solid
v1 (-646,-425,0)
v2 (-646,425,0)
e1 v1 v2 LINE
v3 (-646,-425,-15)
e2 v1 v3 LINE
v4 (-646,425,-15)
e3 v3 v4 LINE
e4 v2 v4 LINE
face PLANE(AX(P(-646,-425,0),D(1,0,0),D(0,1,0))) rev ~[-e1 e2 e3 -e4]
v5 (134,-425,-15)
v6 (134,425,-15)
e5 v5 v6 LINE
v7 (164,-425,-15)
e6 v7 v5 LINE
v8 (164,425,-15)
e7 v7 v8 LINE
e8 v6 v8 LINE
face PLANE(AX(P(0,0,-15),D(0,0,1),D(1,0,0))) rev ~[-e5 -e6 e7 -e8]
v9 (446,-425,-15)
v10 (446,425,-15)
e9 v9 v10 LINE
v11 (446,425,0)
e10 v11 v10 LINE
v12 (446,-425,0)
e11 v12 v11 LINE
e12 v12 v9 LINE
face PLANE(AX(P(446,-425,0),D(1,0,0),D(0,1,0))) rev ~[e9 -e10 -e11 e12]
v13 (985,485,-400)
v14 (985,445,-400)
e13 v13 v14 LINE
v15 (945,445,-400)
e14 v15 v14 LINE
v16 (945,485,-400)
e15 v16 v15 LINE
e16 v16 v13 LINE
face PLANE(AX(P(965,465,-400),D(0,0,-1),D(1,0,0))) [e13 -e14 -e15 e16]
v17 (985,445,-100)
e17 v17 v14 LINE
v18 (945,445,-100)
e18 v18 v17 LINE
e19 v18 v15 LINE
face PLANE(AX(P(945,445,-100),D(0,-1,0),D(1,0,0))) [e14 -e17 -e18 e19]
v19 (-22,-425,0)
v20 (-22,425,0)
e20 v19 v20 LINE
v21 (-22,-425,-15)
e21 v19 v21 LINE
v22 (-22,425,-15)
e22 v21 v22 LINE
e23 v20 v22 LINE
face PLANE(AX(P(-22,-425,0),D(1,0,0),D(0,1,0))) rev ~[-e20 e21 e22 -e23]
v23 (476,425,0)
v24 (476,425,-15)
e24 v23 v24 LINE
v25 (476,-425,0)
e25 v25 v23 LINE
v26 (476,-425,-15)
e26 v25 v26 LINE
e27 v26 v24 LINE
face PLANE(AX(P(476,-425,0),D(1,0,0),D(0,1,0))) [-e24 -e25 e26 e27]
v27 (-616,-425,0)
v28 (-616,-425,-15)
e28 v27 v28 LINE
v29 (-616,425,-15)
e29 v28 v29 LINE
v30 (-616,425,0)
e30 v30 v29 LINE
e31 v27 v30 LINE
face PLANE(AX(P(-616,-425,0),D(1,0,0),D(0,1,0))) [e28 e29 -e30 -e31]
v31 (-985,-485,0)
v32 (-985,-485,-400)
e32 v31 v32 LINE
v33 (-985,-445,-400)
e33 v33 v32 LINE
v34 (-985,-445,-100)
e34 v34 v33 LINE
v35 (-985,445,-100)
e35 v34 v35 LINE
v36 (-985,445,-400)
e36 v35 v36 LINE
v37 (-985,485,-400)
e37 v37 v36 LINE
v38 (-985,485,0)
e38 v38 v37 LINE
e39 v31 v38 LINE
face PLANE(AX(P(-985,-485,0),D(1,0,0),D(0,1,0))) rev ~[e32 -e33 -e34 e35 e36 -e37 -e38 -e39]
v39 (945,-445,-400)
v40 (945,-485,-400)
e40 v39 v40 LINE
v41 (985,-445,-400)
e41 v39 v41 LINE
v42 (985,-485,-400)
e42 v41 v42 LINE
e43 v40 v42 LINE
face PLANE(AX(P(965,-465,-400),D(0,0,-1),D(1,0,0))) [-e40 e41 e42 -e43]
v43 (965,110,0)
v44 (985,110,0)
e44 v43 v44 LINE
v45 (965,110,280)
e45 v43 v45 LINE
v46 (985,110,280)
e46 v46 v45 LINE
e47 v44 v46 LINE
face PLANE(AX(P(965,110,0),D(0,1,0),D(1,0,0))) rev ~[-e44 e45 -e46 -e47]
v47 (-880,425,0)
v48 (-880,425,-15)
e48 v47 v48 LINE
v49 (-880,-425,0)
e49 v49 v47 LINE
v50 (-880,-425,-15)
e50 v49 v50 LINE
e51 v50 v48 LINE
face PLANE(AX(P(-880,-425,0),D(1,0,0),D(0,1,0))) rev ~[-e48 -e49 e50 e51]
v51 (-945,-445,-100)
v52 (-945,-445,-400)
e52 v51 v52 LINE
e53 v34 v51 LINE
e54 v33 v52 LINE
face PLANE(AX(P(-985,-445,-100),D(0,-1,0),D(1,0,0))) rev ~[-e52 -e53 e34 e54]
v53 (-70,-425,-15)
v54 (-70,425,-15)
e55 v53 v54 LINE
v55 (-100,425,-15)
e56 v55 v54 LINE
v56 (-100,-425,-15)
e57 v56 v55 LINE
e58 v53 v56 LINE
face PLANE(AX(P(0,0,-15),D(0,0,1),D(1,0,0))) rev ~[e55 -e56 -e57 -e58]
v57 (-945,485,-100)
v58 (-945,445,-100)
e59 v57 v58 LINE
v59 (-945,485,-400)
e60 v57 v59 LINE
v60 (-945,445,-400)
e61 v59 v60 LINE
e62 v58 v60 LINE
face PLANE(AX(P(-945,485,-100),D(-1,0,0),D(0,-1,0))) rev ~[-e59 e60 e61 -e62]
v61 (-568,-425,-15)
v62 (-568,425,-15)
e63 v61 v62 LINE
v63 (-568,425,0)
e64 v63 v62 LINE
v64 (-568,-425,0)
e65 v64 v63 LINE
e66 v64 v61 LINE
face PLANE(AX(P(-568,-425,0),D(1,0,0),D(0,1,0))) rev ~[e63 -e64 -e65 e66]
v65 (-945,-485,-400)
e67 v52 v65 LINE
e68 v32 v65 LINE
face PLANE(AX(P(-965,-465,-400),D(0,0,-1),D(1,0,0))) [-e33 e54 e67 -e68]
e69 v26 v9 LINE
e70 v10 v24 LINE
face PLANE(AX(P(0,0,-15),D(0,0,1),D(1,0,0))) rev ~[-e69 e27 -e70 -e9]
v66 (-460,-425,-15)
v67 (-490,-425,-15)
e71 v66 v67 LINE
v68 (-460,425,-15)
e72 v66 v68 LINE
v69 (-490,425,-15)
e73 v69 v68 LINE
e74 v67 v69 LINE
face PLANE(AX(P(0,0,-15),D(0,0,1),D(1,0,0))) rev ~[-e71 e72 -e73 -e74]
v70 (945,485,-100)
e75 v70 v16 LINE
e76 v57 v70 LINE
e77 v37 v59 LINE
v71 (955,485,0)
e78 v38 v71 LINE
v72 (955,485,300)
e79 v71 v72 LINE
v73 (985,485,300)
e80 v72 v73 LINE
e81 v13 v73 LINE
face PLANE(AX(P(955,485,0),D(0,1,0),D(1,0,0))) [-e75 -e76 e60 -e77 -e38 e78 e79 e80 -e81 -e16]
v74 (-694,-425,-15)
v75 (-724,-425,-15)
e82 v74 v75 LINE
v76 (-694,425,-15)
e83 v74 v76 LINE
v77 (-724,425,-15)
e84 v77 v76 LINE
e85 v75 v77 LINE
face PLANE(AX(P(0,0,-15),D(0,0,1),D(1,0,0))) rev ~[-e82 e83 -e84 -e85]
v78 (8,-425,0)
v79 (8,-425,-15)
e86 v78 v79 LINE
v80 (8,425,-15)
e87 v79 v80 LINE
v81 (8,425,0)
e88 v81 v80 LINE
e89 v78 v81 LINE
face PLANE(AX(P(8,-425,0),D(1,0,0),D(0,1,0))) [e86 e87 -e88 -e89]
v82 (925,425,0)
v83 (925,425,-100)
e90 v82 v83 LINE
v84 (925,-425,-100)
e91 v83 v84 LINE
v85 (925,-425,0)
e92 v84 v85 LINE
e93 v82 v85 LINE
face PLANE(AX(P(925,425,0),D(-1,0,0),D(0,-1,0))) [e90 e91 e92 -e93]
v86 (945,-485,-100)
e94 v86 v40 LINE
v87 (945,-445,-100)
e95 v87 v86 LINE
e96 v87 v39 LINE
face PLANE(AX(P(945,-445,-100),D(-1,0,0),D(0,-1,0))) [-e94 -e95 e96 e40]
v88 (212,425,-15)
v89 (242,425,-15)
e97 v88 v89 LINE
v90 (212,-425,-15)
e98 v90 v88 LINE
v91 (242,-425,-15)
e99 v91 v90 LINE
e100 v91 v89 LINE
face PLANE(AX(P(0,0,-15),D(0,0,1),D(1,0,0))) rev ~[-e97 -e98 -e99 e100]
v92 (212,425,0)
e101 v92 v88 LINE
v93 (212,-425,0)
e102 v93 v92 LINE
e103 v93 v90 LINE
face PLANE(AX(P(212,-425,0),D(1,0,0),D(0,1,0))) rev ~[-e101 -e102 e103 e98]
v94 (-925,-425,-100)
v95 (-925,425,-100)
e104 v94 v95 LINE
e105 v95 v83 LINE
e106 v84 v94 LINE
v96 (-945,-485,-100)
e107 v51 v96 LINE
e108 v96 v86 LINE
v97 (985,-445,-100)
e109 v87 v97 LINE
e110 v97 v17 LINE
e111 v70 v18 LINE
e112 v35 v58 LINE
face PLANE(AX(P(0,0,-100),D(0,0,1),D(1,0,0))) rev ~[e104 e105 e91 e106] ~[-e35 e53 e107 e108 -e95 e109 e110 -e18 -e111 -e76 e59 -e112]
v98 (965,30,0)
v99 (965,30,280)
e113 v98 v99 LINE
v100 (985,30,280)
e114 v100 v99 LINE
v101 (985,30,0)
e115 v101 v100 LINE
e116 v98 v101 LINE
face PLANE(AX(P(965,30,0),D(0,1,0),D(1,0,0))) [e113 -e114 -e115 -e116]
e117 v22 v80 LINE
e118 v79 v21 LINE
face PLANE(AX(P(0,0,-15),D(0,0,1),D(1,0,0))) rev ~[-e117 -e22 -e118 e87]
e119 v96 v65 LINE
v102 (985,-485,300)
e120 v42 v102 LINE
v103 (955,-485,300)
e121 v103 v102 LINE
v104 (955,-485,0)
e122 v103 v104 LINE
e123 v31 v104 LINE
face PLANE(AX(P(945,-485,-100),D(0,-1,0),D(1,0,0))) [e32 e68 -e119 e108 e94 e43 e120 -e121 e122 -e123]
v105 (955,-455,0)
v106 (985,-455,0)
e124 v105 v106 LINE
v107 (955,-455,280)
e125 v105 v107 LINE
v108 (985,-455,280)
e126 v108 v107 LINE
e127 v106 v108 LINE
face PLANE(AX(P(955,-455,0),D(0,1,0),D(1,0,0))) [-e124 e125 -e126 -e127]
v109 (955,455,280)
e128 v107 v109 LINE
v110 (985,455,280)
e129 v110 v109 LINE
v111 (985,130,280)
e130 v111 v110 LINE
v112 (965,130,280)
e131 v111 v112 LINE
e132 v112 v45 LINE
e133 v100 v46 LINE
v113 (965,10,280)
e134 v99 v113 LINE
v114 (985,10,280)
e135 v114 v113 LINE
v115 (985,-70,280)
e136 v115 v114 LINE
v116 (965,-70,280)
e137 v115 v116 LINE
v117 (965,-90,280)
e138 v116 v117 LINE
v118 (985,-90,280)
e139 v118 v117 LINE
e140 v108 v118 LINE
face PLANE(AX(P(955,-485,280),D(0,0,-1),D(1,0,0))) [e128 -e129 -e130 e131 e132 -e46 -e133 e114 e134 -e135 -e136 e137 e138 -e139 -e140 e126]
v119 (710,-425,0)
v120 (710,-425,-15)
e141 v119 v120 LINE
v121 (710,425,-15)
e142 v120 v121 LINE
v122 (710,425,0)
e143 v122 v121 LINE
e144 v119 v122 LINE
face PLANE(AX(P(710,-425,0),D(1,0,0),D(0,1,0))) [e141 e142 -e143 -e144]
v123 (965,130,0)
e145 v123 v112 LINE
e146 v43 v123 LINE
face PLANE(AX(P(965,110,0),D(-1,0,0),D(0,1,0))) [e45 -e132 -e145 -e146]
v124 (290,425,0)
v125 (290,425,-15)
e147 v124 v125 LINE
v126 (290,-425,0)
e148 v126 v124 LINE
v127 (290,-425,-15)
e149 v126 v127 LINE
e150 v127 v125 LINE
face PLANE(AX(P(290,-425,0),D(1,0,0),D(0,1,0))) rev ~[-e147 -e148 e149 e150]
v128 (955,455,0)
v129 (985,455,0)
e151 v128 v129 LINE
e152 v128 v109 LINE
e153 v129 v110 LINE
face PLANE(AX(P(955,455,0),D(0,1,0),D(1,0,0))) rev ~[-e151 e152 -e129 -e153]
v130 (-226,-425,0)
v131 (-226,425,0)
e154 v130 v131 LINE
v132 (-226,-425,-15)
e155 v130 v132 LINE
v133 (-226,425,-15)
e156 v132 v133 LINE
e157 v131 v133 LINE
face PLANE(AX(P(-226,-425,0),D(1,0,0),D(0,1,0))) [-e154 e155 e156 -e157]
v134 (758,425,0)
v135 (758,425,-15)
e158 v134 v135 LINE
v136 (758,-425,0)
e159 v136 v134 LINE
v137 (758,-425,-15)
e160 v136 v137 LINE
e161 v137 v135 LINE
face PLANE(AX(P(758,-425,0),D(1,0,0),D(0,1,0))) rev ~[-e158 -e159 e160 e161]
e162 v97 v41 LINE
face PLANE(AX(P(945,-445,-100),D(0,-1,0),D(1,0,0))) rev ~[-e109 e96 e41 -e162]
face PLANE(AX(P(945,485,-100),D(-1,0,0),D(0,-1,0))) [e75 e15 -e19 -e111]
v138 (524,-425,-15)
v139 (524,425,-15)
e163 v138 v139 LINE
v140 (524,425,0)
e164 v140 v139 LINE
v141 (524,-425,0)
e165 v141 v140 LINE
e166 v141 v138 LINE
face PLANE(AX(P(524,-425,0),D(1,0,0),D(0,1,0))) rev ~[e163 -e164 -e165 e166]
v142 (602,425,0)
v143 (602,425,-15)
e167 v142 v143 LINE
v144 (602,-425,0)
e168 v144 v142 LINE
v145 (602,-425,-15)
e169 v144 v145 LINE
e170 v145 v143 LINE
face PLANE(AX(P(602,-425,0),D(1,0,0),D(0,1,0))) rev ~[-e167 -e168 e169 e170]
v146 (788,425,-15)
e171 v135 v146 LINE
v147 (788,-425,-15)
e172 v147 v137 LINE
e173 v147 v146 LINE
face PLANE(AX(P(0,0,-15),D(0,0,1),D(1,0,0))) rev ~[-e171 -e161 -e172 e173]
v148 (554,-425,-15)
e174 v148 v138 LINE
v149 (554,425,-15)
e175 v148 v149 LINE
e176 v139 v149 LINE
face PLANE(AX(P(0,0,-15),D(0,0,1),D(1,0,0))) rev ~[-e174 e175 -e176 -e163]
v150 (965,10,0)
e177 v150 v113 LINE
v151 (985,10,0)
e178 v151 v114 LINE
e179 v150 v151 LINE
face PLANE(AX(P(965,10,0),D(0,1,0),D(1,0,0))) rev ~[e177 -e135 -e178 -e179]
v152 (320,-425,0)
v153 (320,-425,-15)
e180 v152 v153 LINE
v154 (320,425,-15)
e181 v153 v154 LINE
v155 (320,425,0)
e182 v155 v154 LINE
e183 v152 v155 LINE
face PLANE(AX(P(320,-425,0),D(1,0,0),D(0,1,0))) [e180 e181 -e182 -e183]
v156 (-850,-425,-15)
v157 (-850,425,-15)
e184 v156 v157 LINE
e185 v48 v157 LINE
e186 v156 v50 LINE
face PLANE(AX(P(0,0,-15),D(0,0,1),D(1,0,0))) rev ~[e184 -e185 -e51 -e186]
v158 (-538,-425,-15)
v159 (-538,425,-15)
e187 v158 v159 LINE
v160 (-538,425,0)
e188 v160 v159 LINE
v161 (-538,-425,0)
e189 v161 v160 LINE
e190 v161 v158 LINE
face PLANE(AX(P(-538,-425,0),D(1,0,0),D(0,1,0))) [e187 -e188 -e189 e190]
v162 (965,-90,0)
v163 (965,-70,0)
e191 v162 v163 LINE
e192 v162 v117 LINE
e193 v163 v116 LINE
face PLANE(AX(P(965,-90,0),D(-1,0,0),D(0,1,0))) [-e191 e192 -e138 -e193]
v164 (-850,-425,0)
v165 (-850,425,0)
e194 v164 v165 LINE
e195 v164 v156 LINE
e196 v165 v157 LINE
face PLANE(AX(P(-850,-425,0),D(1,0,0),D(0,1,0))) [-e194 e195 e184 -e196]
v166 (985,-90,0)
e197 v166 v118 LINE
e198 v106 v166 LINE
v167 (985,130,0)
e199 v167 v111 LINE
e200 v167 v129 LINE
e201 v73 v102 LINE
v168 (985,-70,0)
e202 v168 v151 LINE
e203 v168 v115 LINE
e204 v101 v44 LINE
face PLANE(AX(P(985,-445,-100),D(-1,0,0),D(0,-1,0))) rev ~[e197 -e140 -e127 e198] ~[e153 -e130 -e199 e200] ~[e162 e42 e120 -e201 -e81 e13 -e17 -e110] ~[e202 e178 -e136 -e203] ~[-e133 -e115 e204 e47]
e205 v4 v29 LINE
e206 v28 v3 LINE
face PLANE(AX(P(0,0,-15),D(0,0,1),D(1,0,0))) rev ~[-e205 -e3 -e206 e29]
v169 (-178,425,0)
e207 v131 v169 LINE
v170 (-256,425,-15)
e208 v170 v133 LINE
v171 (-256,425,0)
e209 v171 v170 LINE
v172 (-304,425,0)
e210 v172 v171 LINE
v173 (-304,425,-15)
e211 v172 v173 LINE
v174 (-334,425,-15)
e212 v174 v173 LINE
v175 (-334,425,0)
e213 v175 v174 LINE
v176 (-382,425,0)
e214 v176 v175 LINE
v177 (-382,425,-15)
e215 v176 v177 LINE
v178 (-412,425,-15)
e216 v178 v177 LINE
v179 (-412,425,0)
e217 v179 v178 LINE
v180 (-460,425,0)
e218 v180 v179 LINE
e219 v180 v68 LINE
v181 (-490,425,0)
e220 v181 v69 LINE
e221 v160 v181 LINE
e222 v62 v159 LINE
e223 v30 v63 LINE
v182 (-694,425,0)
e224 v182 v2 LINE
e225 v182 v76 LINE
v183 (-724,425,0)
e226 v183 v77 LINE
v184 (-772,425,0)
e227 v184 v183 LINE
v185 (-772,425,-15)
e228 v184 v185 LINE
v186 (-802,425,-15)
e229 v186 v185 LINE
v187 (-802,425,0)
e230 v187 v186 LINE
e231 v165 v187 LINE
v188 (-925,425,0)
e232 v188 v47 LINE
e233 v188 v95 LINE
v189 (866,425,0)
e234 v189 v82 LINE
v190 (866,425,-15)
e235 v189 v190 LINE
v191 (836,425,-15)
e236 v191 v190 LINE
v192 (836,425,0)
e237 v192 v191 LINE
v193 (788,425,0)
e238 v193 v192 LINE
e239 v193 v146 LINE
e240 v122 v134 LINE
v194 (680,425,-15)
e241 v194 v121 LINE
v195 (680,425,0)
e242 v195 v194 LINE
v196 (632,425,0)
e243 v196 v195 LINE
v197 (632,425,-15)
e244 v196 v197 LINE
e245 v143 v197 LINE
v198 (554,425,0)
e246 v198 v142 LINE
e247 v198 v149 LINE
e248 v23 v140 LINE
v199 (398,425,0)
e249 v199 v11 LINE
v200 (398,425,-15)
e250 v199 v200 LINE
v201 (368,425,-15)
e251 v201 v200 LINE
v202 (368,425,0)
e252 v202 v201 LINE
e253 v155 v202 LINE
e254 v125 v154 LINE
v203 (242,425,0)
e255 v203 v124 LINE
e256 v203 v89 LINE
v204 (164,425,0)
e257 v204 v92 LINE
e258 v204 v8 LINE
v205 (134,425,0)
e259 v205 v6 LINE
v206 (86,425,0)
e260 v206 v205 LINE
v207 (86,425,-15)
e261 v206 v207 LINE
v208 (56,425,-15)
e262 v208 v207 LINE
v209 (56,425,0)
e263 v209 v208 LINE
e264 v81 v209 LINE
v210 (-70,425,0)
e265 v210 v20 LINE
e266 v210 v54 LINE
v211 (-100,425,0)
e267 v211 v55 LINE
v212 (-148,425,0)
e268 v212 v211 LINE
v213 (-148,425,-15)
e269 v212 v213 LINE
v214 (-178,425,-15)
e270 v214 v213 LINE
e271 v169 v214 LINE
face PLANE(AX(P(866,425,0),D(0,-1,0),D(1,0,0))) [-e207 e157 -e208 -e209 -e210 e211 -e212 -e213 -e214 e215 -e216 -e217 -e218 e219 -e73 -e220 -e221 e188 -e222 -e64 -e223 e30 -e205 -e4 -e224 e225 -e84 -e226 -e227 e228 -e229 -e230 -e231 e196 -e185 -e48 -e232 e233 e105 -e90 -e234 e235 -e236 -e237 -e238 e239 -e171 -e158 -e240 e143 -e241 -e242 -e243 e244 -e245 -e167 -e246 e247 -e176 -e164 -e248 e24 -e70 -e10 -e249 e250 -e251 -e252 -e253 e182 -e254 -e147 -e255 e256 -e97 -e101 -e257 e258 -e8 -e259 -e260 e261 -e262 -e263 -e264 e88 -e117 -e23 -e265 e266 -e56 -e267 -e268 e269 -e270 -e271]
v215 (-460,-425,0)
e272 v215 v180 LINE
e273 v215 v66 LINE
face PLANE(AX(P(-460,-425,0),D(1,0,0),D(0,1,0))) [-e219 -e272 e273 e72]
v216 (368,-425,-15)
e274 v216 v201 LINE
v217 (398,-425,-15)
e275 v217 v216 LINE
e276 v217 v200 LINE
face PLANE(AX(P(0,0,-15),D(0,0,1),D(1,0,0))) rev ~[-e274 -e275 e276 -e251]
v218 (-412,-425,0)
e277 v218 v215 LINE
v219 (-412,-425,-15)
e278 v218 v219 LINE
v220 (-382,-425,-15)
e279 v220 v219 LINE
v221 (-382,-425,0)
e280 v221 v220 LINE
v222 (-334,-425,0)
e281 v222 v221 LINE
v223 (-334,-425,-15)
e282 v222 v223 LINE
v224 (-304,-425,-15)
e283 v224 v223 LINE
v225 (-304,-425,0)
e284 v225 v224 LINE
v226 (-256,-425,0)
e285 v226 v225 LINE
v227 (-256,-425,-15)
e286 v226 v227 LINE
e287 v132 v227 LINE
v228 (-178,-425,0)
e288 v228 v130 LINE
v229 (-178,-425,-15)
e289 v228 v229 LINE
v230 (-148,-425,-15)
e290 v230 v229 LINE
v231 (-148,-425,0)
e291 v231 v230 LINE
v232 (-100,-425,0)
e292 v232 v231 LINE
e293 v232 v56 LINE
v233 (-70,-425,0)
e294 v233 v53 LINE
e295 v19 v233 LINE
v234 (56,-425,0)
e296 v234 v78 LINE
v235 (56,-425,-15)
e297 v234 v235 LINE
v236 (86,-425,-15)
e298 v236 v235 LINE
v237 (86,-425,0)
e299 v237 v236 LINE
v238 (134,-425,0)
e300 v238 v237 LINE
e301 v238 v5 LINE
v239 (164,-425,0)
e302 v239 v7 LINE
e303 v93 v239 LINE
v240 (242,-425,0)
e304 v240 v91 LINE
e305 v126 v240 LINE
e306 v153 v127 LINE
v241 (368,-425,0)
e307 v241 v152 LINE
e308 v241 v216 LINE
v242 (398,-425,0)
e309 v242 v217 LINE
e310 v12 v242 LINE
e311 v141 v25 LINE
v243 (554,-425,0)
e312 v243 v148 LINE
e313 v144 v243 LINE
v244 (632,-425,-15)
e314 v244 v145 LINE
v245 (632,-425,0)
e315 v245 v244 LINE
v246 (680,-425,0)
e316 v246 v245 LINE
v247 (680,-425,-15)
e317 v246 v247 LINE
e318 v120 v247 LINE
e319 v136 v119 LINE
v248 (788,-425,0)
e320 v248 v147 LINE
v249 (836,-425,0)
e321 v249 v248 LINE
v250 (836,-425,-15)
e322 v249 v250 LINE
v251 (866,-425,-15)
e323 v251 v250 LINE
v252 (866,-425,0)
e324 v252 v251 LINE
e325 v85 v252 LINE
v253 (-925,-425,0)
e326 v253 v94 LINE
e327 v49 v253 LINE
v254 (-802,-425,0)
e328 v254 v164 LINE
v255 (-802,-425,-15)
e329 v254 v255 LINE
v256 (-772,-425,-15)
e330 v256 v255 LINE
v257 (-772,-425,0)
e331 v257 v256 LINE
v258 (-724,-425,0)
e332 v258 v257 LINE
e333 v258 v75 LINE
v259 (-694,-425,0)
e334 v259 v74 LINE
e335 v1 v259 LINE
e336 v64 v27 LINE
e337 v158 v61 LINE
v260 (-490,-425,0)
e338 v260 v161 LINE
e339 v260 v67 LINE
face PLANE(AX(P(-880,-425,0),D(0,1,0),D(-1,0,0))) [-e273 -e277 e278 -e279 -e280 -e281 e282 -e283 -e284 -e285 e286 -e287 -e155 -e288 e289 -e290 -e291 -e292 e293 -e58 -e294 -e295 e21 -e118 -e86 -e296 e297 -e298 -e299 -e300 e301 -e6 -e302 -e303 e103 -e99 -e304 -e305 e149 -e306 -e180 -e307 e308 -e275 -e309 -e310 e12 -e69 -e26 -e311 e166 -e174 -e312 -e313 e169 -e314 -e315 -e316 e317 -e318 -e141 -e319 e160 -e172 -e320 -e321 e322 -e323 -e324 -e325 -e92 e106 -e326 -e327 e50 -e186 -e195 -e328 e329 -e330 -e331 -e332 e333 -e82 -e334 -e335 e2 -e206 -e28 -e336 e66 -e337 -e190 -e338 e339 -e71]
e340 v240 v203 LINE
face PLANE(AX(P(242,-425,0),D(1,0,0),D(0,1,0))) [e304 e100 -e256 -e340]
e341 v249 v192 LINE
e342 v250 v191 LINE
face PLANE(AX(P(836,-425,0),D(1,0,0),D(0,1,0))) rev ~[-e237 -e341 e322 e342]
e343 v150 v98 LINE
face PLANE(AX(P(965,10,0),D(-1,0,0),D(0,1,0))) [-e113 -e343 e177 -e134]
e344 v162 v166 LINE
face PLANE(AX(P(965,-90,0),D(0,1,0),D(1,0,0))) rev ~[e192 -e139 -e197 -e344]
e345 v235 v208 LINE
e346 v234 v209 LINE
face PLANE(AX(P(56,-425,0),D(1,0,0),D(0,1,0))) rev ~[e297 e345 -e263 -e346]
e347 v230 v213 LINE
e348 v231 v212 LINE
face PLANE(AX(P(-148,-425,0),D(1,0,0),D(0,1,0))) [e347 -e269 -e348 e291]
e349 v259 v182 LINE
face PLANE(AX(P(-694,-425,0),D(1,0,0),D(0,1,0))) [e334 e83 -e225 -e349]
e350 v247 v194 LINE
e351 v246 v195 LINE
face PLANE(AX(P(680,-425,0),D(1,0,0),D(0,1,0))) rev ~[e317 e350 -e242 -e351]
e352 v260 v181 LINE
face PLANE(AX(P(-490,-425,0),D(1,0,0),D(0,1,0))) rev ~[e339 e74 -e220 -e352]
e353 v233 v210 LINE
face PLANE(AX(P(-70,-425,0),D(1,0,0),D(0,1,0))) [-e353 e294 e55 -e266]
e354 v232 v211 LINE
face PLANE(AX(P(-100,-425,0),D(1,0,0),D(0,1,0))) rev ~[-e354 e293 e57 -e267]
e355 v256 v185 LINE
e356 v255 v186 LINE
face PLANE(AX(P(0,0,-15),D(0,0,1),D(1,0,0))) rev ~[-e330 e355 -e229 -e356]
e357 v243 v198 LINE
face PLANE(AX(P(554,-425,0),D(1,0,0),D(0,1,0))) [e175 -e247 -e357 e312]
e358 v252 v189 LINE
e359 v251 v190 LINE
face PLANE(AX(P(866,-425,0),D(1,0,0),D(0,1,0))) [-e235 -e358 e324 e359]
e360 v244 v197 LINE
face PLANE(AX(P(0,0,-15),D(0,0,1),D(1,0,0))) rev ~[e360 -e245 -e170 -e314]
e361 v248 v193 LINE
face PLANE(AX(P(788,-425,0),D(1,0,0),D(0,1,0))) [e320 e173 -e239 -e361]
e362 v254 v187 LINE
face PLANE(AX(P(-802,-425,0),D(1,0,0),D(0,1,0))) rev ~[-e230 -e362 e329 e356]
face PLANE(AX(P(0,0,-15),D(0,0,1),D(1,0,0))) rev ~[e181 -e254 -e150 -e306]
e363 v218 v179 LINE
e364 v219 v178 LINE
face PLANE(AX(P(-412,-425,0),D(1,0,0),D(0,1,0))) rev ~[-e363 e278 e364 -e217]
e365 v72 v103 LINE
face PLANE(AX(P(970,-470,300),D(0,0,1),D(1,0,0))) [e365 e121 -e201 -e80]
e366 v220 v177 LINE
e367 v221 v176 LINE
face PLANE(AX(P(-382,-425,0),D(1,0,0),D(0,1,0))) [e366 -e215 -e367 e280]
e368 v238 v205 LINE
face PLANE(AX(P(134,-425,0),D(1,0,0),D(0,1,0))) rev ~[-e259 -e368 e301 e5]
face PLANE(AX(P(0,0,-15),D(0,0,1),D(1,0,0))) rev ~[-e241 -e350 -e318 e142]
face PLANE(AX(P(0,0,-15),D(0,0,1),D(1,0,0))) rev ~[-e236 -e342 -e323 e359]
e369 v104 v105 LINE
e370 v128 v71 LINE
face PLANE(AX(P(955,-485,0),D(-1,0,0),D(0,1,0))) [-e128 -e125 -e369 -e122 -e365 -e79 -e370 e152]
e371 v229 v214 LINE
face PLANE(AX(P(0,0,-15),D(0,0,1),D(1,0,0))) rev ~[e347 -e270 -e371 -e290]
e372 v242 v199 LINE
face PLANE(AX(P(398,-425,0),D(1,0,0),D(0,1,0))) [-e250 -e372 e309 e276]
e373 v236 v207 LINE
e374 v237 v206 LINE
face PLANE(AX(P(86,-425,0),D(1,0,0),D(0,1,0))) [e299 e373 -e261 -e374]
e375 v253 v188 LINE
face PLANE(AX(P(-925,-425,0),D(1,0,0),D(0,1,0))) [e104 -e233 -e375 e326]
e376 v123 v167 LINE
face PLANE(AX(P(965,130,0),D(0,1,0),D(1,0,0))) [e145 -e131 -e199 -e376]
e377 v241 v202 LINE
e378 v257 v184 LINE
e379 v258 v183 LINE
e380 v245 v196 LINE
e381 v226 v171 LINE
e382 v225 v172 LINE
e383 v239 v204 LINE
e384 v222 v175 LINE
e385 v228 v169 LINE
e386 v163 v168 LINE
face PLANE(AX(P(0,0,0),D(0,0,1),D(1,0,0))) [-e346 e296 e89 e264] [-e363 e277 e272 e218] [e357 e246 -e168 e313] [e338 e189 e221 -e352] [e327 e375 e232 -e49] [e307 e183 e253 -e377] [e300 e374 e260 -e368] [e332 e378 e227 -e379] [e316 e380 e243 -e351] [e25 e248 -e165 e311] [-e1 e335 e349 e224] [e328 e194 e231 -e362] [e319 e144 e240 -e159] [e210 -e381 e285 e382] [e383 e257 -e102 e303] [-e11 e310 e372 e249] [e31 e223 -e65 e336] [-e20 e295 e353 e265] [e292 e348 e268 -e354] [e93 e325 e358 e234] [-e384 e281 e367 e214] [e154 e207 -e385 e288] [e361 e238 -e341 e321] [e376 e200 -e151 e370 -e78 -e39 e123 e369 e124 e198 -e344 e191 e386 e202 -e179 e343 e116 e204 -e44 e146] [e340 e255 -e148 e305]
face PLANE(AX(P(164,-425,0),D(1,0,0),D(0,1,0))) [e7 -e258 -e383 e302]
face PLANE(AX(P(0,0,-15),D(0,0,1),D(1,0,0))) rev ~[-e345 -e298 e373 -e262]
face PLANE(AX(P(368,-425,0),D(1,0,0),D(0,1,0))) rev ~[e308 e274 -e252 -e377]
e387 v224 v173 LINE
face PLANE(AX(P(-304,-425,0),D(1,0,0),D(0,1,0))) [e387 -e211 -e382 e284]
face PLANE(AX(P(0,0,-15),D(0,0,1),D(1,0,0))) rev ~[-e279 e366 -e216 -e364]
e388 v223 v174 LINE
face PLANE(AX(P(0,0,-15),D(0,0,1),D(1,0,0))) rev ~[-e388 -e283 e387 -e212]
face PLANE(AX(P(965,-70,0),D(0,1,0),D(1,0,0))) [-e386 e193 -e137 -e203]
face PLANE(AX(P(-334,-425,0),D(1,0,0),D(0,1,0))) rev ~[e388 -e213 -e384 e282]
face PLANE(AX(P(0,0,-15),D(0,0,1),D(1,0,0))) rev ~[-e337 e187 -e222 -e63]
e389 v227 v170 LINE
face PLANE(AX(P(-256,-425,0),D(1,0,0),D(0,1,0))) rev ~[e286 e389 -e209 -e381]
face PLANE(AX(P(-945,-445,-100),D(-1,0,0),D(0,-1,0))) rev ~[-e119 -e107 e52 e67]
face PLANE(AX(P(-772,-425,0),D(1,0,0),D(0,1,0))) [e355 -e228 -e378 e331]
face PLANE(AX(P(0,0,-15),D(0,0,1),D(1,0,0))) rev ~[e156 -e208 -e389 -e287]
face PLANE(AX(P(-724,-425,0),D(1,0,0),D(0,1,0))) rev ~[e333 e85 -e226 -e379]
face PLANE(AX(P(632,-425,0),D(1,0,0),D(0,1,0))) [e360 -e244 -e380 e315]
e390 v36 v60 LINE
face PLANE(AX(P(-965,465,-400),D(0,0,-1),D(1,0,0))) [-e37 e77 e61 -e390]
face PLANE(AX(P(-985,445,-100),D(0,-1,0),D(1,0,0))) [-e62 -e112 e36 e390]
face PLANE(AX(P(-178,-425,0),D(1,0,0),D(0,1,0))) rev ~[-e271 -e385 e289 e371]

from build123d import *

# Parameters (mm, degrees)
F0_W     = 1970
F0_H     = 970
F0_W_2   = 30
F0_H_2   = 850
F1_DEPTH = 15
F2_DEPTH = 100
F3_W     = 30
F3_H     = 30
F3_W_2   = 20
F3_H_2   = 20
F4_DEPTH = 300
F5_W     = 30
F5_H     = 20
F6_DEPTH = 970
F7_W     = 40
F7_H     = 40
F8_DEPTH = 300


with BuildPart() as f1:
    # F0 (on Top) → F1 (new body)
    with BuildSketch(Plane.XY):
        Rectangle(F0_W, F0_H)
        Polygon((-925, -425), (-925, 425), (-880, 425), (-850, 425), (-802, 425), (-772, 425), (-724, 425), (-694, 425), (-646, 425), (-616, 425), (-568, 425), (-538, 425), (-490, 425), (-460, 425), (-412, 425), (-382, 425), (-334, 425), (-304, 425), (-256, 425), (-226, 425), (-178, 425), (-148, 425), (-100, 425), (-70, 425), (-22, 425), (8, 425), (56, 425), (86, 425), (134, 425), (164, 425), (212, 425), (242, 425), (290, 425), (320, 425), (368, 425), (398, 425), (446, 425), (476, 425), (524, 425), (554, 425), (602, 425), (632, 425), (680, 425), (710, 425), (758, 425), (788, 425), (836, 425), (866, 425), (925, 425), (925, -425), (866, -425), (836, -425), (788, -425), (758, -425), (710, -425), (680, -425), (632, -425), (602, -425), (554, -425), (524, -425), (476, -425), (446, -425), (398, -425), (368, -425), (320, -425), (290, -425), (242, -425), (212, -425), (164, -425), (134, -425), (86, -425), (56, -425), (8, -425), (-22, -425), (-70, -425), (-100, -425), (-148, -425), (-178, -425), (-226, -425), (-256, -425), (-304, -425), (-334, -425), (-382, -425), (-412, -425), (-460, -425), (-490, -425), (-538, -425), (-568, -425), (-616, -425), (-646, -425), (-694, -425), (-724, -425), (-772, -425), (-802, -425), (-850, -425), (-880, -425), align=None, mode=Mode.SUBTRACT)
        with Locations((-865, 0)):
            Rectangle(F0_W_2, F0_H_2)
        with Locations((-787, 0)):
            Rectangle(F0_W_2, F0_H_2)
        with Locations((-709, 0)):
            Rectangle(F0_W_2, F0_H_2)
        with Locations((-631, 0)):
            Rectangle(F0_W_2, F0_H_2)
        with Locations((-553, 0)):
            Rectangle(F0_W_2, F0_H_2)
        with Locations((-475, 0)):
            Rectangle(F0_W_2, F0_H_2)
        with Locations((-397, 0)):
            Rectangle(F0_W_2, F0_H_2)
        with Locations((-319, 0)):
            Rectangle(F0_W_2, F0_H_2)
        with Locations((-241, 0)):
            Rectangle(F0_W_2, F0_H_2)
        with Locations((-163, 0)):
            Rectangle(F0_W_2, F0_H_2)
        with Locations((-85, 0)):
            Rectangle(F0_W_2, F0_H_2)
        with Locations((-7, 0)):
            Rectangle(F0_W_2, F0_H_2)
        with Locations((71, 0)):
            Rectangle(F0_W_2, F0_H_2)
        with Locations((149, 0)):
            Rectangle(F0_W_2, F0_H_2)
        with Locations((227, 0)):
            Rectangle(F0_W_2, F0_H_2)
        with Locations((305, 0)):
            Rectangle(F0_W_2, F0_H_2)
        with Locations((383, 0)):
            Rectangle(F0_W_2, F0_H_2)
        with Locations((461, 0)):
            Rectangle(F0_W_2, F0_H_2)
        with Locations((539, 0)):
            Rectangle(F0_W_2, F0_H_2)
        with Locations((617, 0)):
            Rectangle(F0_W_2, F0_H_2)
        with Locations((695, 0)):
            Rectangle(F0_W_2, F0_H_2)
        with Locations((773, 0)):
            Rectangle(F0_W_2, F0_H_2)
        with Locations((851, 0)):
            Rectangle(F0_W_2, F0_H_2)
    extrude(amount=-F1_DEPTH)

    # F0 (on Top) → F2 (join)
    with BuildSketch(Plane.XY):
        Rectangle(F0_W, F0_H)
        Polygon((-925, -425), (-925, 425), (-880, 425), (-850, 425), (-802, 425), (-772, 425), (-724, 425), (-694, 425), (-646, 425), (-616, 425), (-568, 425), (-538, 425), (-490, 425), (-460, 425), (-412, 425), (-382, 425), (-334, 425), (-304, 425), (-256, 425), (-226, 425), (-178, 425), (-148, 425), (-100, 425), (-70, 425), (-22, 425), (8, 425), (56, 425), (86, 425), (134, 425), (164, 425), (212, 425), (242, 425), (290, 425), (320, 425), (368, 425), (398, 425), (446, 425), (476, 425), (524, 425), (554, 425), (602, 425), (632, 425), (680, 425), (710, 425), (758, 425), (788, 425), (836, 425), (866, 425), (925, 425), (925, -425), (866, -425), (836, -425), (788, -425), (758, -425), (710, -425), (680, -425), (632, -425), (602, -425), (554, -425), (524, -425), (476, -425), (446, -425), (398, -425), (368, -425), (320, -425), (290, -425), (242, -425), (212, -425), (164, -425), (134, -425), (86, -425), (56, -425), (8, -425), (-22, -425), (-70, -425), (-100, -425), (-148, -425), (-178, -425), (-226, -425), (-256, -425), (-304, -425), (-334, -425), (-382, -425), (-412, -425), (-460, -425), (-490, -425), (-538, -425), (-568, -425), (-616, -425), (-646, -425), (-694, -425), (-724, -425), (-772, -425), (-802, -425), (-850, -425), (-880, -425), align=None, mode=Mode.SUBTRACT)
    extrude(amount=-F2_DEPTH)

    # F3 (on face) → F4 (join)
    with BuildSketch(Plane.XY):
        with Locations((970, 470)):
            Rectangle(F3_W, F3_H)
        with Locations((970, -470)):
            Rectangle(F3_W, F3_H)
        with Locations((975, -80)):
            Rectangle(F3_W_2, F3_H_2)
        with Locations((975, 20)):
            Rectangle(F3_W_2, F3_H_2)
        with Locations((975, 120)):
            Rectangle(F3_W_2, F3_H_2)
    extrude(amount=F4_DEPTH)

    # F5 (on face) → F6 (join, through all)
    with BuildSketch(Plane.XZ.offset(485)):
        with Locations((970, 290)):
            Rectangle(F5_W, F5_H)
    extrude(amount=-F6_DEPTH)

    # F7 (on face) → F8 (join)
    with BuildSketch(Plane(origin=(0, 0, -100), x_dir=(1, 0, 0), z_dir=(0, 0, -1))):
        with Locations((965, 465)):
            Rectangle(F7_W, F7_H)
        with Locations((-965, 465)):
            Rectangle(F7_W, F7_H)
        with Locations((-965, -465)):
            Rectangle(F7_W, F7_H)
        with Locations((965, -465)):
            Rectangle(F7_W, F7_H)
    extrude(amount=F8_DEPTH)


solid = f1.part
